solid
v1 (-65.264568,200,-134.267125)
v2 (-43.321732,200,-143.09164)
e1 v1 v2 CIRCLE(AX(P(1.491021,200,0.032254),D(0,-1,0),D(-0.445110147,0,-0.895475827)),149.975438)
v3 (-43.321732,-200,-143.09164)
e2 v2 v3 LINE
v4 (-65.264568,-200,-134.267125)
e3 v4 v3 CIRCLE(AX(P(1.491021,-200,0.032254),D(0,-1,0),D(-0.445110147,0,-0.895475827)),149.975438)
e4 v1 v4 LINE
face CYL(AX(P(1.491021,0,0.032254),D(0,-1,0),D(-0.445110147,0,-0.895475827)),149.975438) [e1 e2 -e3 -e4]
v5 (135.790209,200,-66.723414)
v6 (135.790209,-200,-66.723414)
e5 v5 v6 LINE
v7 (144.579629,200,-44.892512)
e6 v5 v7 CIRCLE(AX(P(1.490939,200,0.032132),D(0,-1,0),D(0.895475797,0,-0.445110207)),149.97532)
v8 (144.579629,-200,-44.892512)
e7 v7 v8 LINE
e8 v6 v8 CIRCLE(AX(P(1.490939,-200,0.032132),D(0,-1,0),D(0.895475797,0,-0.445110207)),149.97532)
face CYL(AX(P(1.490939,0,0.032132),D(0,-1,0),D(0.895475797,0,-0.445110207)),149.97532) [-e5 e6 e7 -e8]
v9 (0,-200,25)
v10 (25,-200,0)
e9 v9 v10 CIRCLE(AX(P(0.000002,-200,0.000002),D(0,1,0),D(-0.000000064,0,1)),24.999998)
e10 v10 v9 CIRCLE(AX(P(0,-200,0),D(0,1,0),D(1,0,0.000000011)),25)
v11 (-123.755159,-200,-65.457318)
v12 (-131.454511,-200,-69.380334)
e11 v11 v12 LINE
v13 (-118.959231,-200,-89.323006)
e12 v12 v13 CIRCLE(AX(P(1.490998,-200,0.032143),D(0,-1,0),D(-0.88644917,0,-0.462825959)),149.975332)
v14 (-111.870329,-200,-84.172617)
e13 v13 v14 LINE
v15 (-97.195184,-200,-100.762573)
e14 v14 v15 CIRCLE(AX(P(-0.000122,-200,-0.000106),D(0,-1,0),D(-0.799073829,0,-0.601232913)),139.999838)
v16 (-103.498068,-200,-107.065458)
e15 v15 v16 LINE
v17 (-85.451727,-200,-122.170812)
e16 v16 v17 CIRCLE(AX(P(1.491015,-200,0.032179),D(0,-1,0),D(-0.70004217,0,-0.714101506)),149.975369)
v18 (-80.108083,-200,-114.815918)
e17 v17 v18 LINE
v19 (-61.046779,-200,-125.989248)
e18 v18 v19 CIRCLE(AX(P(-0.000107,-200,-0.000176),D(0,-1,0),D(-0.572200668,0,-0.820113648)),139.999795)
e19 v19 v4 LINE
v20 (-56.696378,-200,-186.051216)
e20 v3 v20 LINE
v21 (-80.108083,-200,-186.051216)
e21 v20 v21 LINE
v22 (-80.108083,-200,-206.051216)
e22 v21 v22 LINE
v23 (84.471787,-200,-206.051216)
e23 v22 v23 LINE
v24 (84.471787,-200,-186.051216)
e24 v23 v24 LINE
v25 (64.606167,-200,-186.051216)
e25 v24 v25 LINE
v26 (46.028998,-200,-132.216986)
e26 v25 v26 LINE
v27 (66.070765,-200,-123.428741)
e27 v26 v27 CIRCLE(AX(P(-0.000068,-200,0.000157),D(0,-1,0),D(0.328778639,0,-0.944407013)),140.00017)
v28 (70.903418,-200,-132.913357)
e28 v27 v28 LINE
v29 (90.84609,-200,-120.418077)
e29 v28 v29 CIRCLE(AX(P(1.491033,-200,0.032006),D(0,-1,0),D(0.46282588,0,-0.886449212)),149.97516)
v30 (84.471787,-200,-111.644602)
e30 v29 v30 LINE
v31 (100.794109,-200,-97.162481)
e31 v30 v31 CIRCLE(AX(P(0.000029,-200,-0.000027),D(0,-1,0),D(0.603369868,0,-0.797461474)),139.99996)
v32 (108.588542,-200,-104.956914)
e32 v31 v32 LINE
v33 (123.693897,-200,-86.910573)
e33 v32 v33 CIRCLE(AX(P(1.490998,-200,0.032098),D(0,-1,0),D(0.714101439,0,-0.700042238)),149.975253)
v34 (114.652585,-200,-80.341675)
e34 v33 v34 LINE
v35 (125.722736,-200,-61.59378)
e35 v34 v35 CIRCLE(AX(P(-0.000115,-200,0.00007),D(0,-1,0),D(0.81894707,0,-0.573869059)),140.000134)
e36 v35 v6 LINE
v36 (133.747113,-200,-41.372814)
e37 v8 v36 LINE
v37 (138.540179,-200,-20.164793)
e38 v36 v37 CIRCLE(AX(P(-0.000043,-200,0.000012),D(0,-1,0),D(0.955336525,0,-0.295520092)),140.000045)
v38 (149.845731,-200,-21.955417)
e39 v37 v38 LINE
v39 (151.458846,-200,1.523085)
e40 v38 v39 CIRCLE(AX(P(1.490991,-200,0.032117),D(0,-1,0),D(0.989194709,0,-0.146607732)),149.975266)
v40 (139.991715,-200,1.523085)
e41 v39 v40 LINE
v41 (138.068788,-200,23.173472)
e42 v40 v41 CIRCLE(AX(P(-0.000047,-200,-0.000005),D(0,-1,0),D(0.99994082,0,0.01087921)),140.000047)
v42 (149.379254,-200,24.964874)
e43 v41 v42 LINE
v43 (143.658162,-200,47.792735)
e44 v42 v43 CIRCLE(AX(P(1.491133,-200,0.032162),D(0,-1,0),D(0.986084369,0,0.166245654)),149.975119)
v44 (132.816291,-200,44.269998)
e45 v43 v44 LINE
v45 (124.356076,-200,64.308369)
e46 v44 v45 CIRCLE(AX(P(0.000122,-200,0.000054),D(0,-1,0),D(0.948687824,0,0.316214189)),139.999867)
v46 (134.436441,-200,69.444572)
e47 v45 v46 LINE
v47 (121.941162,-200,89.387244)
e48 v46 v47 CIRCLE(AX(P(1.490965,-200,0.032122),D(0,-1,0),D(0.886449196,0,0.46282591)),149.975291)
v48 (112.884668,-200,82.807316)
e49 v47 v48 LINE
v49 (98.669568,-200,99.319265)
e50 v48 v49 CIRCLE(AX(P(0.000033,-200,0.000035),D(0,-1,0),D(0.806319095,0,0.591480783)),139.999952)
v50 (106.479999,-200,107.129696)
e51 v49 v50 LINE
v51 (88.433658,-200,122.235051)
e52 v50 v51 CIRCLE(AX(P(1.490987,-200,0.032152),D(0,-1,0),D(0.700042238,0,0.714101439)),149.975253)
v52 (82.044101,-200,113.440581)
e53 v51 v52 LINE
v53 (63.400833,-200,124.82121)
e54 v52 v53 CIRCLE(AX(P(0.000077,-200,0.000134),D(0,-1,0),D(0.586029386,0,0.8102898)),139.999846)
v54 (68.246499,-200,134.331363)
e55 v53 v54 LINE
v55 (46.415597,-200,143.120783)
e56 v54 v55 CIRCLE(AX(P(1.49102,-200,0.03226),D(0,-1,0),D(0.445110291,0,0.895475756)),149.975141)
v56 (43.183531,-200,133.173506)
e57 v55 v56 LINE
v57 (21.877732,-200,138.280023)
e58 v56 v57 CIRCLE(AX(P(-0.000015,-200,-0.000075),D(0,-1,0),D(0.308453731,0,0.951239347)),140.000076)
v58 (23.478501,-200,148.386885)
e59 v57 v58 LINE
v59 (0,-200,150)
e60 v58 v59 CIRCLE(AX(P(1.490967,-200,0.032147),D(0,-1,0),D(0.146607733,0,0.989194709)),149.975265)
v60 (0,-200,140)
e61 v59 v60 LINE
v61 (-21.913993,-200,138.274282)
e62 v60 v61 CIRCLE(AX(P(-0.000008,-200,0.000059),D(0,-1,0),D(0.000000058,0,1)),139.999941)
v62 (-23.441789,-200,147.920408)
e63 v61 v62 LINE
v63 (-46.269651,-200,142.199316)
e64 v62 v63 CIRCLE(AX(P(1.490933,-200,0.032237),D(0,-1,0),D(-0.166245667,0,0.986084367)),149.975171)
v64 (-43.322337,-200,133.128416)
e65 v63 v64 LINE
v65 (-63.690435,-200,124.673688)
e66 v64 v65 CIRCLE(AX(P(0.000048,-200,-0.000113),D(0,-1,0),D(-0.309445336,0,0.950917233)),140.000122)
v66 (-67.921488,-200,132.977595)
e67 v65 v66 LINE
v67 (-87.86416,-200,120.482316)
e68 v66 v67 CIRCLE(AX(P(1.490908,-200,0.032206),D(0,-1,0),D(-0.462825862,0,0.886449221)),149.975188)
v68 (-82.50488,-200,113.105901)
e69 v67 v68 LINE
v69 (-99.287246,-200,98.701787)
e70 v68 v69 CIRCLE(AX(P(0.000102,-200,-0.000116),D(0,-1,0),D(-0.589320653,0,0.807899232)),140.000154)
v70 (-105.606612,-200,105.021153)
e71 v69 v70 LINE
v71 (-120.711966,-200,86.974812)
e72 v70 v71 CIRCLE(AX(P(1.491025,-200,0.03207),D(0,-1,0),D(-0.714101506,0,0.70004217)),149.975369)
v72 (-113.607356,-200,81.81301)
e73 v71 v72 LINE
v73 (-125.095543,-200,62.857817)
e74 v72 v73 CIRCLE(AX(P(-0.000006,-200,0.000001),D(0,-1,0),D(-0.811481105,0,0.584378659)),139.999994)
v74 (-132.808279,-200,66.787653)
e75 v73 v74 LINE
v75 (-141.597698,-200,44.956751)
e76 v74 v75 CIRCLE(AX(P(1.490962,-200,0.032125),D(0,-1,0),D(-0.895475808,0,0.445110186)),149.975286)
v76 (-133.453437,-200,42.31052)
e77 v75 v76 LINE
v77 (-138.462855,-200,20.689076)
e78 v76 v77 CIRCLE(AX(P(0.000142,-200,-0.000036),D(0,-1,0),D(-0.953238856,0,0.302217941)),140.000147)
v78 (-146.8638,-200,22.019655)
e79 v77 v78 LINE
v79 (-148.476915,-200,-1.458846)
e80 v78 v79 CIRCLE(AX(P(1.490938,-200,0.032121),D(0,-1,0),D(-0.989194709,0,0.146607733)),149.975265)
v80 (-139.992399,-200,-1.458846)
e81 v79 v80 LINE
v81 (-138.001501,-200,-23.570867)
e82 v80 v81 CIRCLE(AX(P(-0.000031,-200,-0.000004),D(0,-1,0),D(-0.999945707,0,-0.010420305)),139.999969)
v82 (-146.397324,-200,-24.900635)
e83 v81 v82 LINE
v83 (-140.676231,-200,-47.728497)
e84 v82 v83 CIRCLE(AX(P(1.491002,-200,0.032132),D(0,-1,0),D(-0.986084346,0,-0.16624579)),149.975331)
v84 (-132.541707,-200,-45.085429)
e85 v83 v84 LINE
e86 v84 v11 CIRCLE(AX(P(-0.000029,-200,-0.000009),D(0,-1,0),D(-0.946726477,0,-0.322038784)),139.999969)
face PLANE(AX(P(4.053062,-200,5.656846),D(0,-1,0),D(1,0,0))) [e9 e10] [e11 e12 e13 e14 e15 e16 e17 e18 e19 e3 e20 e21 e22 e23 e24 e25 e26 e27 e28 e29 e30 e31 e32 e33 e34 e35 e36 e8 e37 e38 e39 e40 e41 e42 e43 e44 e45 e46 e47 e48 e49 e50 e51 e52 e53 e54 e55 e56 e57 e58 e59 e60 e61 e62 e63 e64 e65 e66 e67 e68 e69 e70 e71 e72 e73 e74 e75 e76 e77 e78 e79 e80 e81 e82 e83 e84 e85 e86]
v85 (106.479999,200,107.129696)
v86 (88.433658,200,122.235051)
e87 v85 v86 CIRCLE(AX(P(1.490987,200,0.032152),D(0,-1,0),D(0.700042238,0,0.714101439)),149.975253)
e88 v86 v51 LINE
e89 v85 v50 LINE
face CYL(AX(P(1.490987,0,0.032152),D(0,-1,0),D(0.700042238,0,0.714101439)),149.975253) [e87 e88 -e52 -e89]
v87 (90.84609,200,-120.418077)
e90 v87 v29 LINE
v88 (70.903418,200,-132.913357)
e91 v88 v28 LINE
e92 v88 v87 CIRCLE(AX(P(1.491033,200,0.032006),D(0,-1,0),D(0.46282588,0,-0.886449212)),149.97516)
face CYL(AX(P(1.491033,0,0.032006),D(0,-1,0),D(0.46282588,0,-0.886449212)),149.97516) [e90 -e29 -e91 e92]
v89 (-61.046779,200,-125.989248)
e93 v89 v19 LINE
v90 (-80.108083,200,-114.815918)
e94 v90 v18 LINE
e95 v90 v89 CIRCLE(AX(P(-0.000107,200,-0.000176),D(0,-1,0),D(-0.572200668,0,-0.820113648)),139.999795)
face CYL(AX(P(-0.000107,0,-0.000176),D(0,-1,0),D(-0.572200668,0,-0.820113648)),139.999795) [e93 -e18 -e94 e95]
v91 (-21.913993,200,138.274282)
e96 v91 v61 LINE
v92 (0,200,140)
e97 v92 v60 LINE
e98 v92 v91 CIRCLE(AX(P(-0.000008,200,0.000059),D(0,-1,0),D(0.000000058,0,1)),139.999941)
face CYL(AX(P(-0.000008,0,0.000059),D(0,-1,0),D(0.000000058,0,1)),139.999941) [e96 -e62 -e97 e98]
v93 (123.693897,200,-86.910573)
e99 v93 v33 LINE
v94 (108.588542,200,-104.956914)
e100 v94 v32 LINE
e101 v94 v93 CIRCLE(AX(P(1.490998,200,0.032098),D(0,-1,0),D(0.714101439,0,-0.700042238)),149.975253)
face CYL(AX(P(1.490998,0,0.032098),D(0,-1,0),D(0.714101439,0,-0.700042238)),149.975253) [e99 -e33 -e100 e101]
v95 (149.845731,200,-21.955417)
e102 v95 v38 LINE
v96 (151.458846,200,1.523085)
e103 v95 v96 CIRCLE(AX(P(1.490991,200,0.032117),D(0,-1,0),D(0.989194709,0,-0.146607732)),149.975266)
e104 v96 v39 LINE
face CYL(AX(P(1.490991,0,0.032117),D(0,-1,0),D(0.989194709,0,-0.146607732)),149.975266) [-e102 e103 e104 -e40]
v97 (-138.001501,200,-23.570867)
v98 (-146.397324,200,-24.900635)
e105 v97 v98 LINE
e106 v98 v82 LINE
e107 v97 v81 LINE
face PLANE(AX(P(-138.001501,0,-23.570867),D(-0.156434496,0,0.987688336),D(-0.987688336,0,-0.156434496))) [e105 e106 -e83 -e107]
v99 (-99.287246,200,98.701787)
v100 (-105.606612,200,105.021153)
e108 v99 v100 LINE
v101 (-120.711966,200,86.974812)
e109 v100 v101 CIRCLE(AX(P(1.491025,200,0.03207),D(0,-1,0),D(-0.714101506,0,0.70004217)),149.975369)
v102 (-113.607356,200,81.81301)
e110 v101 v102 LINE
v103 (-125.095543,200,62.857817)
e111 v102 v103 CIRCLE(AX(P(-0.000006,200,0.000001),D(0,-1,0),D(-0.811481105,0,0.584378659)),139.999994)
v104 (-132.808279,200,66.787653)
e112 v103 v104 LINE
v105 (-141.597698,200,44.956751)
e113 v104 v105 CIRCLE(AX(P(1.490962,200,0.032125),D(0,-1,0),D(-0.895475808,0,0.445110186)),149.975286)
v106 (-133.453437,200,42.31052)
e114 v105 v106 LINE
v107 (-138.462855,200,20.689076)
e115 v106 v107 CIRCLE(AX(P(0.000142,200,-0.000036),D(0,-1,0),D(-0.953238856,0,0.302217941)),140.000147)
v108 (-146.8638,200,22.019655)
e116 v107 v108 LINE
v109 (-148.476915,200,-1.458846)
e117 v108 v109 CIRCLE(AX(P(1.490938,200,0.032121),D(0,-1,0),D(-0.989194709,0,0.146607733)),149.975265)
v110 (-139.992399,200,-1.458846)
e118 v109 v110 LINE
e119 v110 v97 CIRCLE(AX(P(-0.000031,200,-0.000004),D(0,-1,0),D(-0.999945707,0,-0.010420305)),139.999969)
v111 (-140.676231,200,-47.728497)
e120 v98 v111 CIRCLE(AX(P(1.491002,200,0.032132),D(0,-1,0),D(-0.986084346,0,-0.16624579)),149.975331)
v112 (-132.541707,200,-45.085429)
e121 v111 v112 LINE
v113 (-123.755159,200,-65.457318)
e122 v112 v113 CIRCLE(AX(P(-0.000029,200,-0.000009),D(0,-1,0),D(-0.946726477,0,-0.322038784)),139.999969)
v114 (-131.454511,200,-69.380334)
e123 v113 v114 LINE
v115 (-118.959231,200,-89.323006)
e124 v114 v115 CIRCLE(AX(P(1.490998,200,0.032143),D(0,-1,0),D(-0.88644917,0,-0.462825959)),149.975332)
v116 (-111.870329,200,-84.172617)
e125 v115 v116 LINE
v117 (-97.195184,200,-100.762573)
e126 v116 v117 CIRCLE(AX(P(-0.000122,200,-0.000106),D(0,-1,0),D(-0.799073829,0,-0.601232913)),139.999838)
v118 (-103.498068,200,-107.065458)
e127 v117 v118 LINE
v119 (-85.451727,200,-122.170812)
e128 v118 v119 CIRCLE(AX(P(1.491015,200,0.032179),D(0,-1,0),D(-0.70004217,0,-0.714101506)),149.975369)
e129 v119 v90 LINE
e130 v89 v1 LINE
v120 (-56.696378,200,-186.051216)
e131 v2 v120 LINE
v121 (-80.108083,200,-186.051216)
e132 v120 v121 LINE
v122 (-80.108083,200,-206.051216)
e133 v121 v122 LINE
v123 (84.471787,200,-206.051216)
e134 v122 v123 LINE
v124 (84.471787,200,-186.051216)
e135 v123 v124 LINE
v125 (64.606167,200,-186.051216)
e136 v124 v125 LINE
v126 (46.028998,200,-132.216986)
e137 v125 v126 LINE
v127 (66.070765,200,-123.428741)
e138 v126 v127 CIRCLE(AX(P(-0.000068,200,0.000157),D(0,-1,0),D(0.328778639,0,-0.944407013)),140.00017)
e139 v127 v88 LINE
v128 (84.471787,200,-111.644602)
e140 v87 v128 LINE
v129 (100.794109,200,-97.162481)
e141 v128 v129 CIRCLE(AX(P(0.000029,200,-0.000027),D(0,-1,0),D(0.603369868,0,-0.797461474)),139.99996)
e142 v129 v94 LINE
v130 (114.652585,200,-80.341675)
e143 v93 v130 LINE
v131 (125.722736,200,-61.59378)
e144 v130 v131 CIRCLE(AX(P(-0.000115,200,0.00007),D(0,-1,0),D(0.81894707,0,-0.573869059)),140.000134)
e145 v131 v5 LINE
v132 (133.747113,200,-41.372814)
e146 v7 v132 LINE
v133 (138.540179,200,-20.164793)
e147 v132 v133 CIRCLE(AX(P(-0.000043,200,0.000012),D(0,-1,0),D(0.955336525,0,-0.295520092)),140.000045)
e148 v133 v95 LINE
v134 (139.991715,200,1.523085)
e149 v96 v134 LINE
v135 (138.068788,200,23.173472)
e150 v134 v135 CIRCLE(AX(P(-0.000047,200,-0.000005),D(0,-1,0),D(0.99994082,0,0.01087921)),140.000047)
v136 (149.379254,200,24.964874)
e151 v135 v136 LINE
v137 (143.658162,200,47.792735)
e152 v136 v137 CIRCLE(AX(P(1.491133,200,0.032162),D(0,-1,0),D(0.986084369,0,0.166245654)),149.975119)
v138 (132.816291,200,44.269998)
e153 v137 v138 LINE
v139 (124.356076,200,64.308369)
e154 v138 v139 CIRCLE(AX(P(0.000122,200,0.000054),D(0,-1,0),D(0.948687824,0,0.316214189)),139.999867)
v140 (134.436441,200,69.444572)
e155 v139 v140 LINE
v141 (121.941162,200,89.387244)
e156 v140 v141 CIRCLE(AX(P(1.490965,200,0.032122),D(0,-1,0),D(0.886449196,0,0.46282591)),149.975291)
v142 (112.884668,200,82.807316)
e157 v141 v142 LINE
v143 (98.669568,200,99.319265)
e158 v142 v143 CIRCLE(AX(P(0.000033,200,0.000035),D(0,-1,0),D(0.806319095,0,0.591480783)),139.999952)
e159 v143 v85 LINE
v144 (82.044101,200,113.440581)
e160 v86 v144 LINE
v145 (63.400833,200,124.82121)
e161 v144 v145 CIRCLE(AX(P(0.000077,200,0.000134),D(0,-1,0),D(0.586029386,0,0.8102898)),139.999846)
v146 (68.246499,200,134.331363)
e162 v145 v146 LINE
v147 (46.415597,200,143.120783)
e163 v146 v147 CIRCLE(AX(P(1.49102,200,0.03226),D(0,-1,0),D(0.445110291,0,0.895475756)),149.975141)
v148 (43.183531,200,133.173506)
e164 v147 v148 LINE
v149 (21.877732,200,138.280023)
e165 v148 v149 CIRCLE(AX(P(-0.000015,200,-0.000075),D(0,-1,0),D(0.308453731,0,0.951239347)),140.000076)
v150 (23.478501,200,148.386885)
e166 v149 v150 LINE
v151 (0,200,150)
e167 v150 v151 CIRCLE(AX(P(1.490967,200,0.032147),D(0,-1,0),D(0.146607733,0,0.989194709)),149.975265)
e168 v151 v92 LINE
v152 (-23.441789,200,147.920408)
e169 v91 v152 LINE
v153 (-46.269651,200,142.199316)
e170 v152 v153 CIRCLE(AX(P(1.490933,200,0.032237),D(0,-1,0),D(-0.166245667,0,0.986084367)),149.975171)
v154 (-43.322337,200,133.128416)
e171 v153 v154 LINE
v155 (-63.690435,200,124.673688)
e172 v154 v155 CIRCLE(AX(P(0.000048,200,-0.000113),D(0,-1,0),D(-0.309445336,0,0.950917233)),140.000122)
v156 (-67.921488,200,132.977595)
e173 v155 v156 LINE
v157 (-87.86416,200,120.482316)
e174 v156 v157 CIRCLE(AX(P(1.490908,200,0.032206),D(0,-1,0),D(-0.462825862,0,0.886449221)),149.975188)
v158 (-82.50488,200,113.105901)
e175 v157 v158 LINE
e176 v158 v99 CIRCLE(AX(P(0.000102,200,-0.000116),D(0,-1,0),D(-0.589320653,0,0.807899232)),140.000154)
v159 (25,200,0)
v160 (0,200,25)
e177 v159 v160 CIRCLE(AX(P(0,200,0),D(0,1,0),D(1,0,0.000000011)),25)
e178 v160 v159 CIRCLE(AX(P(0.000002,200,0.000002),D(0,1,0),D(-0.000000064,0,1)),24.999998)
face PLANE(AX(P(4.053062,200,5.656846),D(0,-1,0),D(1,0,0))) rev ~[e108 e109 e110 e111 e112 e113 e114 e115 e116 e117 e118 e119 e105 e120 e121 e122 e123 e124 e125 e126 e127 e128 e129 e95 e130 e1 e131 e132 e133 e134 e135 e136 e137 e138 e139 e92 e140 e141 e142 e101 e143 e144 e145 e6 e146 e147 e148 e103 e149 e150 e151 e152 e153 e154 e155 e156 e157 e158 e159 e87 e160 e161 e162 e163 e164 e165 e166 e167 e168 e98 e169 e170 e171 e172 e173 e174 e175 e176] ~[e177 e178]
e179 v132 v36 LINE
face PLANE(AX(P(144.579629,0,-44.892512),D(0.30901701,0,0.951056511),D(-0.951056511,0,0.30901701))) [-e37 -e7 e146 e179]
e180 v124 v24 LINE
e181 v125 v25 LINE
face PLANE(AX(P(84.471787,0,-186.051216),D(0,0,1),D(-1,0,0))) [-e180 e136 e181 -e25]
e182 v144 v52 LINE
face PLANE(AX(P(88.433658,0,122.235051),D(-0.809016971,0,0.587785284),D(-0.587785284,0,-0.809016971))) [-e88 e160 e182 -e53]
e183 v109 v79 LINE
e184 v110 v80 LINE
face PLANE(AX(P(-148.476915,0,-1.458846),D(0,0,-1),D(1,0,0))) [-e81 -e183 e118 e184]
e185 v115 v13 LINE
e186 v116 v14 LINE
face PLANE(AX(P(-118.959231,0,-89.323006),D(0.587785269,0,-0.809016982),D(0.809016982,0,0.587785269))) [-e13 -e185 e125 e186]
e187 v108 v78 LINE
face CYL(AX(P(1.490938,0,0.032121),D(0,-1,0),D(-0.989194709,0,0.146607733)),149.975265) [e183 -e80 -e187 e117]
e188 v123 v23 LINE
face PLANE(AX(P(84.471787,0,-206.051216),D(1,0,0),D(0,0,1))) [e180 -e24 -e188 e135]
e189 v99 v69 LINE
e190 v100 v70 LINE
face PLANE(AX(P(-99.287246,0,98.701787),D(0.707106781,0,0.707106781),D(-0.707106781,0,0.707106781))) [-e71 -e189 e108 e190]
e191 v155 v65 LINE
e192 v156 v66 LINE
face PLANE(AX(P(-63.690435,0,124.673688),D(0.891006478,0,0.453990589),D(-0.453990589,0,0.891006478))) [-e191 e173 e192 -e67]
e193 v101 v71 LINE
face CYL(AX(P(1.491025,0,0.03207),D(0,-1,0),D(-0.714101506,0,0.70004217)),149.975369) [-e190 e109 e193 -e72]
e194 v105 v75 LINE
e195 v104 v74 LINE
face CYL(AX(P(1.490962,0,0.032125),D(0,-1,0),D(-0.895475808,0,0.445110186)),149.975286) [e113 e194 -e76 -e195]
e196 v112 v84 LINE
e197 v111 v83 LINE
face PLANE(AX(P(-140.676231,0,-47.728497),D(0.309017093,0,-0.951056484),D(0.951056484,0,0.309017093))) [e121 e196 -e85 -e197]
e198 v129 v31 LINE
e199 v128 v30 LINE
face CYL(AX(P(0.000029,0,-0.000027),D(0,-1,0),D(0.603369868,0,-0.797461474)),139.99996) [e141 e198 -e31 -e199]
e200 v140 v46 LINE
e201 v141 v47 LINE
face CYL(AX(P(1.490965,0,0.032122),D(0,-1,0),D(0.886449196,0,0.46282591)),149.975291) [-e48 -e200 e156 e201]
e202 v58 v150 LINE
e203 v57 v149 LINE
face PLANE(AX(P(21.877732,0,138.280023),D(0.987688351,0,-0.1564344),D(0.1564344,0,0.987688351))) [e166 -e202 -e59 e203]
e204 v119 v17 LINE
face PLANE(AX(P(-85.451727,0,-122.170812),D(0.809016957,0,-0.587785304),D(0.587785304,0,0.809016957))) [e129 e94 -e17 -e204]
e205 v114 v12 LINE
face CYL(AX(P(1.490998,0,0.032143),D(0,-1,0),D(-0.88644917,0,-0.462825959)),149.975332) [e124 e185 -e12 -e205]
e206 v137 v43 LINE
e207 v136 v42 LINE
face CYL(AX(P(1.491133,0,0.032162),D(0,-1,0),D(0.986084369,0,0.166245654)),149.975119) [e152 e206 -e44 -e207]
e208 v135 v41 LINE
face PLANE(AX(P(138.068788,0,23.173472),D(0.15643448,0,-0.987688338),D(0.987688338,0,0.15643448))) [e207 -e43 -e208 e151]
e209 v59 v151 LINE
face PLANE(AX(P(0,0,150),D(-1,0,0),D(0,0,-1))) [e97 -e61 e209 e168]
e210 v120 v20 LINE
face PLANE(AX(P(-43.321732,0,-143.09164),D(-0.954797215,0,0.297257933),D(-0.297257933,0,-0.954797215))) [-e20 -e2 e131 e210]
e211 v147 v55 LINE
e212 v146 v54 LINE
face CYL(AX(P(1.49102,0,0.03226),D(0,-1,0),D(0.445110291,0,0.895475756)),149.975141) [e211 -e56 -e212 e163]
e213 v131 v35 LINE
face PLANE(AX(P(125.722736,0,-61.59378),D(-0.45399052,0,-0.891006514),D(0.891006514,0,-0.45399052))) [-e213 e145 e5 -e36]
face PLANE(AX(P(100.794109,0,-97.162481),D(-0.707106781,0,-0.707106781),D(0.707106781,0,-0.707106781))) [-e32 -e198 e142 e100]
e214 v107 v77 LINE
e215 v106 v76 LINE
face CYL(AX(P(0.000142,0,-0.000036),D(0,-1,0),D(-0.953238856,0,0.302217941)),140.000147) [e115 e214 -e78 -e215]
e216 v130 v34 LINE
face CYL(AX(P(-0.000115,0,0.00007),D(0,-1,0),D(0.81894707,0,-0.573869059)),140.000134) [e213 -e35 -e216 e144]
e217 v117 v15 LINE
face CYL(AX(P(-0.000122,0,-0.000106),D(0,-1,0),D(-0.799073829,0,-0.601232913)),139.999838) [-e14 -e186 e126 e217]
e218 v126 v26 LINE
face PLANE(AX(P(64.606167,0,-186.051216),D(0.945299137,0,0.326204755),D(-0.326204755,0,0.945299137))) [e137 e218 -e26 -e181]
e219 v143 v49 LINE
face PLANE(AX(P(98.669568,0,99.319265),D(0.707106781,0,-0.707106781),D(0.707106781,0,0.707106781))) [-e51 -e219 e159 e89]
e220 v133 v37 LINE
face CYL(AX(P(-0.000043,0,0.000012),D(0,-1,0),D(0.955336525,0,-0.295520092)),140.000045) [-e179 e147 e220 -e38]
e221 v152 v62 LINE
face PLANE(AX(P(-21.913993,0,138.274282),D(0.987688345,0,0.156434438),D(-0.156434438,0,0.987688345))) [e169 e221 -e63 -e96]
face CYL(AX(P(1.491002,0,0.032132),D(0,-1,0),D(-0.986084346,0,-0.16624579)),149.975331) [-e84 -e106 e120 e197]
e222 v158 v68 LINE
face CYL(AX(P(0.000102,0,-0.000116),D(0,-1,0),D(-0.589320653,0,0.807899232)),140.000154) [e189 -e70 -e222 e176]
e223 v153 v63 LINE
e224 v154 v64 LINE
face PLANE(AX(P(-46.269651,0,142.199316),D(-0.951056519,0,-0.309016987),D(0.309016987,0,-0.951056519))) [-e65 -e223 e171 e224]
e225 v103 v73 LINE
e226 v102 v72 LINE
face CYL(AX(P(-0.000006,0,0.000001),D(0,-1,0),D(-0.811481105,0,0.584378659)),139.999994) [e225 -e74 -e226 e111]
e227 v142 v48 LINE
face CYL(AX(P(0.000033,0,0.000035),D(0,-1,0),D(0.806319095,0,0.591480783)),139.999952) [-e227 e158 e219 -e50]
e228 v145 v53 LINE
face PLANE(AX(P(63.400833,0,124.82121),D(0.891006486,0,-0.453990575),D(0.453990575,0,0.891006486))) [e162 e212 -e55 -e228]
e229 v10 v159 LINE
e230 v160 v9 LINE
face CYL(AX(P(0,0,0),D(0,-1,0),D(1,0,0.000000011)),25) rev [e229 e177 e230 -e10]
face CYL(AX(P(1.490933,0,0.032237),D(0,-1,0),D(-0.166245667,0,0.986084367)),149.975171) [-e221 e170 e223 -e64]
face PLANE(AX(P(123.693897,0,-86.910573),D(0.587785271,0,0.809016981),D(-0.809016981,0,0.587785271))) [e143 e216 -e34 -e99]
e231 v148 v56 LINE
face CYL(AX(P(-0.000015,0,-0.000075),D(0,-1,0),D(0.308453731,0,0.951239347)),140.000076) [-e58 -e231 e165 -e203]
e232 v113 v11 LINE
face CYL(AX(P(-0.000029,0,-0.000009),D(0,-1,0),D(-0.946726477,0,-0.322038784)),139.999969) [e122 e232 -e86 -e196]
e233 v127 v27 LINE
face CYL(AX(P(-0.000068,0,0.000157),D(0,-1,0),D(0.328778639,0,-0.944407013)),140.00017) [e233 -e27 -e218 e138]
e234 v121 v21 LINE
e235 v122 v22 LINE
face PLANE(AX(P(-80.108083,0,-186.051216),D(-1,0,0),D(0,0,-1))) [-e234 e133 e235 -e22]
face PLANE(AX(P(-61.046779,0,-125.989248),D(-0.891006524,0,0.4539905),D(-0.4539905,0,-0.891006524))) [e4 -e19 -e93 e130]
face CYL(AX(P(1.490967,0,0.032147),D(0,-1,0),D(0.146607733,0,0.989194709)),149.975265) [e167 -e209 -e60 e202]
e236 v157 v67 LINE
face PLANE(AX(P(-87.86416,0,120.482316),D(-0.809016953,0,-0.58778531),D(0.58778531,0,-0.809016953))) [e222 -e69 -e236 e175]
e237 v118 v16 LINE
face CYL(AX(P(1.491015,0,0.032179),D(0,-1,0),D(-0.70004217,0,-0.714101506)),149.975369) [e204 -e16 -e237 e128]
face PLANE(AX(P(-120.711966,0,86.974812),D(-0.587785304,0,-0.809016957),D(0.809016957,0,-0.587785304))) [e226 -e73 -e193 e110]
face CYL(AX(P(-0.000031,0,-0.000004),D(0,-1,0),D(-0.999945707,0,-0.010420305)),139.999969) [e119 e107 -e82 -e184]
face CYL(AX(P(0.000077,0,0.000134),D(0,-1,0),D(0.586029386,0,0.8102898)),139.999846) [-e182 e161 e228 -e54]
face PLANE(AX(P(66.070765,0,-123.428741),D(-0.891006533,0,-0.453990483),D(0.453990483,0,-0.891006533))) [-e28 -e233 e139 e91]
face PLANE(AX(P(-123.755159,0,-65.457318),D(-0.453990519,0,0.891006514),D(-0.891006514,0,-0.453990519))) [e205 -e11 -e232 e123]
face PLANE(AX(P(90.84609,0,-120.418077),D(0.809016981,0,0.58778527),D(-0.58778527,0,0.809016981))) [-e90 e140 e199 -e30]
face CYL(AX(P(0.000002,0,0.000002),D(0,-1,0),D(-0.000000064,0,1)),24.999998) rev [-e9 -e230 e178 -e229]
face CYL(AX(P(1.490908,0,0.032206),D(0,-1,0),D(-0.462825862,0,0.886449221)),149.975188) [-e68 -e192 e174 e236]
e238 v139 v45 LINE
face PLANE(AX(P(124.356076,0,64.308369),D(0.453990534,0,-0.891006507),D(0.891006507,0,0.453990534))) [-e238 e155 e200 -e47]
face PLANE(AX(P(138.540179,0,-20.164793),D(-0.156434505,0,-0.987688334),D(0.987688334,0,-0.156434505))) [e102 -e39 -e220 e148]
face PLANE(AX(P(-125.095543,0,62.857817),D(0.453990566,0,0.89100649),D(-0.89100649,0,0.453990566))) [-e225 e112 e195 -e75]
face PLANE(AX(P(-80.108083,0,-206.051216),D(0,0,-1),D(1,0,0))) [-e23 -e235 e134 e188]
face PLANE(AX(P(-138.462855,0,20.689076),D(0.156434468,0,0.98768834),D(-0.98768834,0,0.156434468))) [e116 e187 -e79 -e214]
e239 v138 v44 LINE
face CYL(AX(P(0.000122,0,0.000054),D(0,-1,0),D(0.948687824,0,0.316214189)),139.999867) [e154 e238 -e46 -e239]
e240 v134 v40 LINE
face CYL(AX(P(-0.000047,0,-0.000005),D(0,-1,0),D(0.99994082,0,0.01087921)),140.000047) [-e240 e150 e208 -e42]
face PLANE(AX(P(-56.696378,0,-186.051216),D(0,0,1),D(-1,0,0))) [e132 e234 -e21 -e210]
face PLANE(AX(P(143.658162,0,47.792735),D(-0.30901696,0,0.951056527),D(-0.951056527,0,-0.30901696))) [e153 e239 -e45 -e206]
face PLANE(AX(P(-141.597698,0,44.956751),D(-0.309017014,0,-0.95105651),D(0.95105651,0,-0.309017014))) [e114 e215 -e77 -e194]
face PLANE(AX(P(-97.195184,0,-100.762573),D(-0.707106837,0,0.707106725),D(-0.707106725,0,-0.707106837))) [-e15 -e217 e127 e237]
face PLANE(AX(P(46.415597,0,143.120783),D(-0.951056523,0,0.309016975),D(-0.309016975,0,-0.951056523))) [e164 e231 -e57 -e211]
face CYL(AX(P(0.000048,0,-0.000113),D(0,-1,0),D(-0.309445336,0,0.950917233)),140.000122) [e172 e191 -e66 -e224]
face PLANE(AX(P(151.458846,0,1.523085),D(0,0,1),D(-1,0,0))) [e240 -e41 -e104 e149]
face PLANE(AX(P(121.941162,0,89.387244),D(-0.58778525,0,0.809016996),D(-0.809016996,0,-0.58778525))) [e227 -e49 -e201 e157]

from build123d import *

# Parameters (mm, degrees)
F1_DEPTH = 200


with BuildPart() as f1:
    # F0 (on Front) → F1 (new body, symmetric)
    with BuildSketch(Plane.XZ):
        with BuildLine():
            Line((0, 150), (0, 140))
            ThreePointArc((0, 140), (-10.990919, 139.567904), (-21.913993, 138.274282))
            Line((-21.913993, 138.274282), (-23.441789, 147.920408))
            ThreePointArc((-23.441789, 147.920408), (-34.968111, 145.508317), (-46.269651, 142.199316))
            Line((-46.269651, 142.199316), (-43.322337, 133.128416))
            ThreePointArc((-43.322337, 133.128416), (-53.673121, 129.30273), (-63.690435, 124.673688))
            Line((-63.690435, 124.673688), (-67.921488, 132.977595))
            ThreePointArc((-67.921488, 132.977595), (-78.138294, 127.121731), (-87.86416, 120.482316))
            Line((-87.86416, 120.482316), (-82.50488, 113.105901))
            ThreePointArc((-82.50488, 113.105901), (-91.18094, 106.235757), (-99.287246, 98.701787))
            Line((-99.287246, 98.701787), (-105.606612, 105.021153))
            ThreePointArc((-105.606612, 105.021153), (-113.51381, 96.294728), (-120.711966, 86.974812))
            Line((-120.711966, 86.974812), (-113.607356, 81.81301))
            ThreePointArc((-113.607356, 81.81301), (-119.727162, 72.563122), (-125.095543, 62.857817))
            Line((-125.095543, 62.857817), (-132.808279, 66.787653))
            ThreePointArc((-132.808279, 66.787653), (-137.631858, 56.04487), (-141.597698, 44.956751))
            Line((-141.597698, 44.956751), (-133.453437, 42.31052))
            ThreePointArc((-133.453437, 42.31052), (-136.387276, 31.599222), (-138.462855, 20.689076))
            Line((-138.462855, 20.689076), (-146.8638, 22.019655))
            ThreePointArc((-146.8638, 22.019655), (-148.131594, 10.312094), (-148.476915, -1.458846))
            Line((-148.476915, -1.458846), (-139.992399, -1.458846))
            ThreePointArc((-139.992399, -1.458846), (-139.435962, -12.554384), (-138.001501, -23.570867))
            Line((-138.001501, -23.570867), (-146.397324, -24.900635))
            ThreePointArc((-146.397324, -24.900635), (-143.985232, -36.426957), (-140.676231, -47.728497))
            Line((-140.676231, -47.728497), (-132.541707, -45.085429))
            ThreePointArc((-132.541707, -45.085429), (-128.552613, -55.4457), (-123.755159, -65.457318))
            Line((-123.755159, -65.457318), (-131.454511, -69.380334))
            ThreePointArc((-131.454511, -69.380334), (-125.598646, -79.59714), (-118.959231, -89.323006))
            Line((-118.959231, -89.323006), (-111.870329, -84.172617))
            ThreePointArc((-111.870329, -84.172617), (-104.861356, -92.758267), (-97.195184, -100.762573))
            Line((-97.195184, -100.762573), (-103.498068, -107.065458))
            ThreePointArc((-103.498068, -107.065458), (-94.771643, -114.972656), (-85.451727, -122.170812))
            Line((-85.451727, -122.170812), (-80.108083, -114.815918))
            ThreePointArc((-80.108083, -114.815918), (-70.798197, -120.779201), (-61.046779, -125.989248))
            Line((-61.046779, -125.989248), (-65.264568, -134.267125))
            ThreePointArc((-65.264568, -134.267125), (-54.467372, -139.112599), (-43.321732, -143.09164))
            ThreePointArc((-43.321732, -143.09164), (2.292038, -145.364646), (46.028998, -132.216986))
            ThreePointArc((46.028998, -132.216986), (56.22186, -128.215063), (66.070765, -123.428741))
            Line((66.070765, -123.428741), (70.903418, -132.913357))
            ThreePointArc((70.903418, -132.913357), (81.120225, -127.057492), (90.84609, -120.418077))
            Line((90.84609, -120.418077), (84.471787, -111.644602))
            ThreePointArc((84.471787, -111.644602), (92.915532, -104.722032), (100.794109, -97.162481))
            Line((100.794109, -97.162481), (108.588542, -104.956914))
            ThreePointArc((108.588542, -104.956914), (116.495741, -96.230489), (123.693897, -86.910573))
            Line((123.693897, -86.910573), (114.652585, -80.341675))
            ThreePointArc((114.652585, -80.341675), (120.552663, -71.183252), (125.722736, -61.59378))
            Line((125.722736, -61.59378), (135.790209, -66.723414))
            ThreePointArc((135.790209, -66.723414), (140.613788, -55.980632), (144.579629, -44.892512))
            Line((144.579629, -44.892512), (133.747113, -41.372814))
            ThreePointArc((133.747113, -41.372814), (136.555986, -30.861994), (138.540179, -20.164793))
            Line((138.540179, -20.164793), (149.845731, -21.955417))
            ThreePointArc((149.845731, -21.955417), (151.113525, -10.247856), (151.458846, 1.523085))
            Line((151.458846, 1.523085), (139.991715, 1.523085))
            ThreePointArc((139.991715, 1.523085), (139.451051, 12.385652), (138.068788, 23.173472))
            Line((138.068788, 23.173472), (149.379254, 24.964874))
            ThreePointArc((149.379254, 24.964874), (146.967163, 36.491196), (143.658162, 47.792735))
            Line((143.658162, 47.792735), (132.816291, 44.269998))
            ThreePointArc((132.816291, 44.269998), (128.975931, 54.453735), (124.356076, 64.308369))
            Line((124.356076, 64.308369), (134.436441, 69.444572))
            ThreePointArc((134.436441, 69.444572), (128.580576, 79.661379), (121.941162, 89.387244))
            Line((121.941162, 89.387244), (112.884668, 82.807316))
            ThreePointArc((112.884668, 82.807316), (106.098821, 91.340244), (98.669568, 99.319265))
            Line((98.669568, 99.319265), (106.479999, 107.129696))
            ThreePointArc((106.479999, 107.129696), (97.753574, 115.036895), (88.433658, 122.235051))
            Line((88.433658, 122.235051), (82.044101, 113.440581))
            ThreePointArc((82.044101, 113.440581), (72.944753, 119.495034), (63.400833, 124.82121))
            Line((63.400833, 124.82121), (68.246499, 134.331363))
            ThreePointArc((68.246499, 134.331363), (57.503716, 139.154943), (46.415597, 143.120783))
            Line((46.415597, 143.120783), (43.183531, 133.173506))
            ThreePointArc((43.183531, 133.173506), (32.630677, 136.144184), (21.877732, 138.280023))
            Line((21.877732, 138.280023), (23.478501, 148.386885))
            ThreePointArc((23.478501, 148.386885), (11.77094, 149.654679), (0, 150))
        make_face()
        with BuildLine():
            ThreePointArc((0, 25), (17.67767, 17.67767), (25, 0))
            ThreePointArc((25, 0), (-17.67767, -17.67767), (0, 25))
        make_face(mode=Mode.SUBTRACT)
        with BuildLine():
            ThreePointArc((46.028998, -132.216986), (2.292038, -145.364646), (-43.321732, -143.09164))
            Line((-43.321732, -143.09164), (-56.696378, -186.051216))
            Line((-56.696378, -186.051216), (-80.108083, -186.051216))
            Line((-80.108083, -186.051216), (-80.108083, -206.051216))
            Line((-80.108083, -206.051216), (84.471787, -206.051216))
            Line((84.471787, -206.051216), (84.471787, -186.051216))
            Line((84.471787, -186.051216), (64.606167, -186.051216))
            Line((64.606167, -186.051216), (46.028998, -132.216986))
        make_face()
    extrude(amount=F1_DEPTH, both=True)


solid = f1.part
